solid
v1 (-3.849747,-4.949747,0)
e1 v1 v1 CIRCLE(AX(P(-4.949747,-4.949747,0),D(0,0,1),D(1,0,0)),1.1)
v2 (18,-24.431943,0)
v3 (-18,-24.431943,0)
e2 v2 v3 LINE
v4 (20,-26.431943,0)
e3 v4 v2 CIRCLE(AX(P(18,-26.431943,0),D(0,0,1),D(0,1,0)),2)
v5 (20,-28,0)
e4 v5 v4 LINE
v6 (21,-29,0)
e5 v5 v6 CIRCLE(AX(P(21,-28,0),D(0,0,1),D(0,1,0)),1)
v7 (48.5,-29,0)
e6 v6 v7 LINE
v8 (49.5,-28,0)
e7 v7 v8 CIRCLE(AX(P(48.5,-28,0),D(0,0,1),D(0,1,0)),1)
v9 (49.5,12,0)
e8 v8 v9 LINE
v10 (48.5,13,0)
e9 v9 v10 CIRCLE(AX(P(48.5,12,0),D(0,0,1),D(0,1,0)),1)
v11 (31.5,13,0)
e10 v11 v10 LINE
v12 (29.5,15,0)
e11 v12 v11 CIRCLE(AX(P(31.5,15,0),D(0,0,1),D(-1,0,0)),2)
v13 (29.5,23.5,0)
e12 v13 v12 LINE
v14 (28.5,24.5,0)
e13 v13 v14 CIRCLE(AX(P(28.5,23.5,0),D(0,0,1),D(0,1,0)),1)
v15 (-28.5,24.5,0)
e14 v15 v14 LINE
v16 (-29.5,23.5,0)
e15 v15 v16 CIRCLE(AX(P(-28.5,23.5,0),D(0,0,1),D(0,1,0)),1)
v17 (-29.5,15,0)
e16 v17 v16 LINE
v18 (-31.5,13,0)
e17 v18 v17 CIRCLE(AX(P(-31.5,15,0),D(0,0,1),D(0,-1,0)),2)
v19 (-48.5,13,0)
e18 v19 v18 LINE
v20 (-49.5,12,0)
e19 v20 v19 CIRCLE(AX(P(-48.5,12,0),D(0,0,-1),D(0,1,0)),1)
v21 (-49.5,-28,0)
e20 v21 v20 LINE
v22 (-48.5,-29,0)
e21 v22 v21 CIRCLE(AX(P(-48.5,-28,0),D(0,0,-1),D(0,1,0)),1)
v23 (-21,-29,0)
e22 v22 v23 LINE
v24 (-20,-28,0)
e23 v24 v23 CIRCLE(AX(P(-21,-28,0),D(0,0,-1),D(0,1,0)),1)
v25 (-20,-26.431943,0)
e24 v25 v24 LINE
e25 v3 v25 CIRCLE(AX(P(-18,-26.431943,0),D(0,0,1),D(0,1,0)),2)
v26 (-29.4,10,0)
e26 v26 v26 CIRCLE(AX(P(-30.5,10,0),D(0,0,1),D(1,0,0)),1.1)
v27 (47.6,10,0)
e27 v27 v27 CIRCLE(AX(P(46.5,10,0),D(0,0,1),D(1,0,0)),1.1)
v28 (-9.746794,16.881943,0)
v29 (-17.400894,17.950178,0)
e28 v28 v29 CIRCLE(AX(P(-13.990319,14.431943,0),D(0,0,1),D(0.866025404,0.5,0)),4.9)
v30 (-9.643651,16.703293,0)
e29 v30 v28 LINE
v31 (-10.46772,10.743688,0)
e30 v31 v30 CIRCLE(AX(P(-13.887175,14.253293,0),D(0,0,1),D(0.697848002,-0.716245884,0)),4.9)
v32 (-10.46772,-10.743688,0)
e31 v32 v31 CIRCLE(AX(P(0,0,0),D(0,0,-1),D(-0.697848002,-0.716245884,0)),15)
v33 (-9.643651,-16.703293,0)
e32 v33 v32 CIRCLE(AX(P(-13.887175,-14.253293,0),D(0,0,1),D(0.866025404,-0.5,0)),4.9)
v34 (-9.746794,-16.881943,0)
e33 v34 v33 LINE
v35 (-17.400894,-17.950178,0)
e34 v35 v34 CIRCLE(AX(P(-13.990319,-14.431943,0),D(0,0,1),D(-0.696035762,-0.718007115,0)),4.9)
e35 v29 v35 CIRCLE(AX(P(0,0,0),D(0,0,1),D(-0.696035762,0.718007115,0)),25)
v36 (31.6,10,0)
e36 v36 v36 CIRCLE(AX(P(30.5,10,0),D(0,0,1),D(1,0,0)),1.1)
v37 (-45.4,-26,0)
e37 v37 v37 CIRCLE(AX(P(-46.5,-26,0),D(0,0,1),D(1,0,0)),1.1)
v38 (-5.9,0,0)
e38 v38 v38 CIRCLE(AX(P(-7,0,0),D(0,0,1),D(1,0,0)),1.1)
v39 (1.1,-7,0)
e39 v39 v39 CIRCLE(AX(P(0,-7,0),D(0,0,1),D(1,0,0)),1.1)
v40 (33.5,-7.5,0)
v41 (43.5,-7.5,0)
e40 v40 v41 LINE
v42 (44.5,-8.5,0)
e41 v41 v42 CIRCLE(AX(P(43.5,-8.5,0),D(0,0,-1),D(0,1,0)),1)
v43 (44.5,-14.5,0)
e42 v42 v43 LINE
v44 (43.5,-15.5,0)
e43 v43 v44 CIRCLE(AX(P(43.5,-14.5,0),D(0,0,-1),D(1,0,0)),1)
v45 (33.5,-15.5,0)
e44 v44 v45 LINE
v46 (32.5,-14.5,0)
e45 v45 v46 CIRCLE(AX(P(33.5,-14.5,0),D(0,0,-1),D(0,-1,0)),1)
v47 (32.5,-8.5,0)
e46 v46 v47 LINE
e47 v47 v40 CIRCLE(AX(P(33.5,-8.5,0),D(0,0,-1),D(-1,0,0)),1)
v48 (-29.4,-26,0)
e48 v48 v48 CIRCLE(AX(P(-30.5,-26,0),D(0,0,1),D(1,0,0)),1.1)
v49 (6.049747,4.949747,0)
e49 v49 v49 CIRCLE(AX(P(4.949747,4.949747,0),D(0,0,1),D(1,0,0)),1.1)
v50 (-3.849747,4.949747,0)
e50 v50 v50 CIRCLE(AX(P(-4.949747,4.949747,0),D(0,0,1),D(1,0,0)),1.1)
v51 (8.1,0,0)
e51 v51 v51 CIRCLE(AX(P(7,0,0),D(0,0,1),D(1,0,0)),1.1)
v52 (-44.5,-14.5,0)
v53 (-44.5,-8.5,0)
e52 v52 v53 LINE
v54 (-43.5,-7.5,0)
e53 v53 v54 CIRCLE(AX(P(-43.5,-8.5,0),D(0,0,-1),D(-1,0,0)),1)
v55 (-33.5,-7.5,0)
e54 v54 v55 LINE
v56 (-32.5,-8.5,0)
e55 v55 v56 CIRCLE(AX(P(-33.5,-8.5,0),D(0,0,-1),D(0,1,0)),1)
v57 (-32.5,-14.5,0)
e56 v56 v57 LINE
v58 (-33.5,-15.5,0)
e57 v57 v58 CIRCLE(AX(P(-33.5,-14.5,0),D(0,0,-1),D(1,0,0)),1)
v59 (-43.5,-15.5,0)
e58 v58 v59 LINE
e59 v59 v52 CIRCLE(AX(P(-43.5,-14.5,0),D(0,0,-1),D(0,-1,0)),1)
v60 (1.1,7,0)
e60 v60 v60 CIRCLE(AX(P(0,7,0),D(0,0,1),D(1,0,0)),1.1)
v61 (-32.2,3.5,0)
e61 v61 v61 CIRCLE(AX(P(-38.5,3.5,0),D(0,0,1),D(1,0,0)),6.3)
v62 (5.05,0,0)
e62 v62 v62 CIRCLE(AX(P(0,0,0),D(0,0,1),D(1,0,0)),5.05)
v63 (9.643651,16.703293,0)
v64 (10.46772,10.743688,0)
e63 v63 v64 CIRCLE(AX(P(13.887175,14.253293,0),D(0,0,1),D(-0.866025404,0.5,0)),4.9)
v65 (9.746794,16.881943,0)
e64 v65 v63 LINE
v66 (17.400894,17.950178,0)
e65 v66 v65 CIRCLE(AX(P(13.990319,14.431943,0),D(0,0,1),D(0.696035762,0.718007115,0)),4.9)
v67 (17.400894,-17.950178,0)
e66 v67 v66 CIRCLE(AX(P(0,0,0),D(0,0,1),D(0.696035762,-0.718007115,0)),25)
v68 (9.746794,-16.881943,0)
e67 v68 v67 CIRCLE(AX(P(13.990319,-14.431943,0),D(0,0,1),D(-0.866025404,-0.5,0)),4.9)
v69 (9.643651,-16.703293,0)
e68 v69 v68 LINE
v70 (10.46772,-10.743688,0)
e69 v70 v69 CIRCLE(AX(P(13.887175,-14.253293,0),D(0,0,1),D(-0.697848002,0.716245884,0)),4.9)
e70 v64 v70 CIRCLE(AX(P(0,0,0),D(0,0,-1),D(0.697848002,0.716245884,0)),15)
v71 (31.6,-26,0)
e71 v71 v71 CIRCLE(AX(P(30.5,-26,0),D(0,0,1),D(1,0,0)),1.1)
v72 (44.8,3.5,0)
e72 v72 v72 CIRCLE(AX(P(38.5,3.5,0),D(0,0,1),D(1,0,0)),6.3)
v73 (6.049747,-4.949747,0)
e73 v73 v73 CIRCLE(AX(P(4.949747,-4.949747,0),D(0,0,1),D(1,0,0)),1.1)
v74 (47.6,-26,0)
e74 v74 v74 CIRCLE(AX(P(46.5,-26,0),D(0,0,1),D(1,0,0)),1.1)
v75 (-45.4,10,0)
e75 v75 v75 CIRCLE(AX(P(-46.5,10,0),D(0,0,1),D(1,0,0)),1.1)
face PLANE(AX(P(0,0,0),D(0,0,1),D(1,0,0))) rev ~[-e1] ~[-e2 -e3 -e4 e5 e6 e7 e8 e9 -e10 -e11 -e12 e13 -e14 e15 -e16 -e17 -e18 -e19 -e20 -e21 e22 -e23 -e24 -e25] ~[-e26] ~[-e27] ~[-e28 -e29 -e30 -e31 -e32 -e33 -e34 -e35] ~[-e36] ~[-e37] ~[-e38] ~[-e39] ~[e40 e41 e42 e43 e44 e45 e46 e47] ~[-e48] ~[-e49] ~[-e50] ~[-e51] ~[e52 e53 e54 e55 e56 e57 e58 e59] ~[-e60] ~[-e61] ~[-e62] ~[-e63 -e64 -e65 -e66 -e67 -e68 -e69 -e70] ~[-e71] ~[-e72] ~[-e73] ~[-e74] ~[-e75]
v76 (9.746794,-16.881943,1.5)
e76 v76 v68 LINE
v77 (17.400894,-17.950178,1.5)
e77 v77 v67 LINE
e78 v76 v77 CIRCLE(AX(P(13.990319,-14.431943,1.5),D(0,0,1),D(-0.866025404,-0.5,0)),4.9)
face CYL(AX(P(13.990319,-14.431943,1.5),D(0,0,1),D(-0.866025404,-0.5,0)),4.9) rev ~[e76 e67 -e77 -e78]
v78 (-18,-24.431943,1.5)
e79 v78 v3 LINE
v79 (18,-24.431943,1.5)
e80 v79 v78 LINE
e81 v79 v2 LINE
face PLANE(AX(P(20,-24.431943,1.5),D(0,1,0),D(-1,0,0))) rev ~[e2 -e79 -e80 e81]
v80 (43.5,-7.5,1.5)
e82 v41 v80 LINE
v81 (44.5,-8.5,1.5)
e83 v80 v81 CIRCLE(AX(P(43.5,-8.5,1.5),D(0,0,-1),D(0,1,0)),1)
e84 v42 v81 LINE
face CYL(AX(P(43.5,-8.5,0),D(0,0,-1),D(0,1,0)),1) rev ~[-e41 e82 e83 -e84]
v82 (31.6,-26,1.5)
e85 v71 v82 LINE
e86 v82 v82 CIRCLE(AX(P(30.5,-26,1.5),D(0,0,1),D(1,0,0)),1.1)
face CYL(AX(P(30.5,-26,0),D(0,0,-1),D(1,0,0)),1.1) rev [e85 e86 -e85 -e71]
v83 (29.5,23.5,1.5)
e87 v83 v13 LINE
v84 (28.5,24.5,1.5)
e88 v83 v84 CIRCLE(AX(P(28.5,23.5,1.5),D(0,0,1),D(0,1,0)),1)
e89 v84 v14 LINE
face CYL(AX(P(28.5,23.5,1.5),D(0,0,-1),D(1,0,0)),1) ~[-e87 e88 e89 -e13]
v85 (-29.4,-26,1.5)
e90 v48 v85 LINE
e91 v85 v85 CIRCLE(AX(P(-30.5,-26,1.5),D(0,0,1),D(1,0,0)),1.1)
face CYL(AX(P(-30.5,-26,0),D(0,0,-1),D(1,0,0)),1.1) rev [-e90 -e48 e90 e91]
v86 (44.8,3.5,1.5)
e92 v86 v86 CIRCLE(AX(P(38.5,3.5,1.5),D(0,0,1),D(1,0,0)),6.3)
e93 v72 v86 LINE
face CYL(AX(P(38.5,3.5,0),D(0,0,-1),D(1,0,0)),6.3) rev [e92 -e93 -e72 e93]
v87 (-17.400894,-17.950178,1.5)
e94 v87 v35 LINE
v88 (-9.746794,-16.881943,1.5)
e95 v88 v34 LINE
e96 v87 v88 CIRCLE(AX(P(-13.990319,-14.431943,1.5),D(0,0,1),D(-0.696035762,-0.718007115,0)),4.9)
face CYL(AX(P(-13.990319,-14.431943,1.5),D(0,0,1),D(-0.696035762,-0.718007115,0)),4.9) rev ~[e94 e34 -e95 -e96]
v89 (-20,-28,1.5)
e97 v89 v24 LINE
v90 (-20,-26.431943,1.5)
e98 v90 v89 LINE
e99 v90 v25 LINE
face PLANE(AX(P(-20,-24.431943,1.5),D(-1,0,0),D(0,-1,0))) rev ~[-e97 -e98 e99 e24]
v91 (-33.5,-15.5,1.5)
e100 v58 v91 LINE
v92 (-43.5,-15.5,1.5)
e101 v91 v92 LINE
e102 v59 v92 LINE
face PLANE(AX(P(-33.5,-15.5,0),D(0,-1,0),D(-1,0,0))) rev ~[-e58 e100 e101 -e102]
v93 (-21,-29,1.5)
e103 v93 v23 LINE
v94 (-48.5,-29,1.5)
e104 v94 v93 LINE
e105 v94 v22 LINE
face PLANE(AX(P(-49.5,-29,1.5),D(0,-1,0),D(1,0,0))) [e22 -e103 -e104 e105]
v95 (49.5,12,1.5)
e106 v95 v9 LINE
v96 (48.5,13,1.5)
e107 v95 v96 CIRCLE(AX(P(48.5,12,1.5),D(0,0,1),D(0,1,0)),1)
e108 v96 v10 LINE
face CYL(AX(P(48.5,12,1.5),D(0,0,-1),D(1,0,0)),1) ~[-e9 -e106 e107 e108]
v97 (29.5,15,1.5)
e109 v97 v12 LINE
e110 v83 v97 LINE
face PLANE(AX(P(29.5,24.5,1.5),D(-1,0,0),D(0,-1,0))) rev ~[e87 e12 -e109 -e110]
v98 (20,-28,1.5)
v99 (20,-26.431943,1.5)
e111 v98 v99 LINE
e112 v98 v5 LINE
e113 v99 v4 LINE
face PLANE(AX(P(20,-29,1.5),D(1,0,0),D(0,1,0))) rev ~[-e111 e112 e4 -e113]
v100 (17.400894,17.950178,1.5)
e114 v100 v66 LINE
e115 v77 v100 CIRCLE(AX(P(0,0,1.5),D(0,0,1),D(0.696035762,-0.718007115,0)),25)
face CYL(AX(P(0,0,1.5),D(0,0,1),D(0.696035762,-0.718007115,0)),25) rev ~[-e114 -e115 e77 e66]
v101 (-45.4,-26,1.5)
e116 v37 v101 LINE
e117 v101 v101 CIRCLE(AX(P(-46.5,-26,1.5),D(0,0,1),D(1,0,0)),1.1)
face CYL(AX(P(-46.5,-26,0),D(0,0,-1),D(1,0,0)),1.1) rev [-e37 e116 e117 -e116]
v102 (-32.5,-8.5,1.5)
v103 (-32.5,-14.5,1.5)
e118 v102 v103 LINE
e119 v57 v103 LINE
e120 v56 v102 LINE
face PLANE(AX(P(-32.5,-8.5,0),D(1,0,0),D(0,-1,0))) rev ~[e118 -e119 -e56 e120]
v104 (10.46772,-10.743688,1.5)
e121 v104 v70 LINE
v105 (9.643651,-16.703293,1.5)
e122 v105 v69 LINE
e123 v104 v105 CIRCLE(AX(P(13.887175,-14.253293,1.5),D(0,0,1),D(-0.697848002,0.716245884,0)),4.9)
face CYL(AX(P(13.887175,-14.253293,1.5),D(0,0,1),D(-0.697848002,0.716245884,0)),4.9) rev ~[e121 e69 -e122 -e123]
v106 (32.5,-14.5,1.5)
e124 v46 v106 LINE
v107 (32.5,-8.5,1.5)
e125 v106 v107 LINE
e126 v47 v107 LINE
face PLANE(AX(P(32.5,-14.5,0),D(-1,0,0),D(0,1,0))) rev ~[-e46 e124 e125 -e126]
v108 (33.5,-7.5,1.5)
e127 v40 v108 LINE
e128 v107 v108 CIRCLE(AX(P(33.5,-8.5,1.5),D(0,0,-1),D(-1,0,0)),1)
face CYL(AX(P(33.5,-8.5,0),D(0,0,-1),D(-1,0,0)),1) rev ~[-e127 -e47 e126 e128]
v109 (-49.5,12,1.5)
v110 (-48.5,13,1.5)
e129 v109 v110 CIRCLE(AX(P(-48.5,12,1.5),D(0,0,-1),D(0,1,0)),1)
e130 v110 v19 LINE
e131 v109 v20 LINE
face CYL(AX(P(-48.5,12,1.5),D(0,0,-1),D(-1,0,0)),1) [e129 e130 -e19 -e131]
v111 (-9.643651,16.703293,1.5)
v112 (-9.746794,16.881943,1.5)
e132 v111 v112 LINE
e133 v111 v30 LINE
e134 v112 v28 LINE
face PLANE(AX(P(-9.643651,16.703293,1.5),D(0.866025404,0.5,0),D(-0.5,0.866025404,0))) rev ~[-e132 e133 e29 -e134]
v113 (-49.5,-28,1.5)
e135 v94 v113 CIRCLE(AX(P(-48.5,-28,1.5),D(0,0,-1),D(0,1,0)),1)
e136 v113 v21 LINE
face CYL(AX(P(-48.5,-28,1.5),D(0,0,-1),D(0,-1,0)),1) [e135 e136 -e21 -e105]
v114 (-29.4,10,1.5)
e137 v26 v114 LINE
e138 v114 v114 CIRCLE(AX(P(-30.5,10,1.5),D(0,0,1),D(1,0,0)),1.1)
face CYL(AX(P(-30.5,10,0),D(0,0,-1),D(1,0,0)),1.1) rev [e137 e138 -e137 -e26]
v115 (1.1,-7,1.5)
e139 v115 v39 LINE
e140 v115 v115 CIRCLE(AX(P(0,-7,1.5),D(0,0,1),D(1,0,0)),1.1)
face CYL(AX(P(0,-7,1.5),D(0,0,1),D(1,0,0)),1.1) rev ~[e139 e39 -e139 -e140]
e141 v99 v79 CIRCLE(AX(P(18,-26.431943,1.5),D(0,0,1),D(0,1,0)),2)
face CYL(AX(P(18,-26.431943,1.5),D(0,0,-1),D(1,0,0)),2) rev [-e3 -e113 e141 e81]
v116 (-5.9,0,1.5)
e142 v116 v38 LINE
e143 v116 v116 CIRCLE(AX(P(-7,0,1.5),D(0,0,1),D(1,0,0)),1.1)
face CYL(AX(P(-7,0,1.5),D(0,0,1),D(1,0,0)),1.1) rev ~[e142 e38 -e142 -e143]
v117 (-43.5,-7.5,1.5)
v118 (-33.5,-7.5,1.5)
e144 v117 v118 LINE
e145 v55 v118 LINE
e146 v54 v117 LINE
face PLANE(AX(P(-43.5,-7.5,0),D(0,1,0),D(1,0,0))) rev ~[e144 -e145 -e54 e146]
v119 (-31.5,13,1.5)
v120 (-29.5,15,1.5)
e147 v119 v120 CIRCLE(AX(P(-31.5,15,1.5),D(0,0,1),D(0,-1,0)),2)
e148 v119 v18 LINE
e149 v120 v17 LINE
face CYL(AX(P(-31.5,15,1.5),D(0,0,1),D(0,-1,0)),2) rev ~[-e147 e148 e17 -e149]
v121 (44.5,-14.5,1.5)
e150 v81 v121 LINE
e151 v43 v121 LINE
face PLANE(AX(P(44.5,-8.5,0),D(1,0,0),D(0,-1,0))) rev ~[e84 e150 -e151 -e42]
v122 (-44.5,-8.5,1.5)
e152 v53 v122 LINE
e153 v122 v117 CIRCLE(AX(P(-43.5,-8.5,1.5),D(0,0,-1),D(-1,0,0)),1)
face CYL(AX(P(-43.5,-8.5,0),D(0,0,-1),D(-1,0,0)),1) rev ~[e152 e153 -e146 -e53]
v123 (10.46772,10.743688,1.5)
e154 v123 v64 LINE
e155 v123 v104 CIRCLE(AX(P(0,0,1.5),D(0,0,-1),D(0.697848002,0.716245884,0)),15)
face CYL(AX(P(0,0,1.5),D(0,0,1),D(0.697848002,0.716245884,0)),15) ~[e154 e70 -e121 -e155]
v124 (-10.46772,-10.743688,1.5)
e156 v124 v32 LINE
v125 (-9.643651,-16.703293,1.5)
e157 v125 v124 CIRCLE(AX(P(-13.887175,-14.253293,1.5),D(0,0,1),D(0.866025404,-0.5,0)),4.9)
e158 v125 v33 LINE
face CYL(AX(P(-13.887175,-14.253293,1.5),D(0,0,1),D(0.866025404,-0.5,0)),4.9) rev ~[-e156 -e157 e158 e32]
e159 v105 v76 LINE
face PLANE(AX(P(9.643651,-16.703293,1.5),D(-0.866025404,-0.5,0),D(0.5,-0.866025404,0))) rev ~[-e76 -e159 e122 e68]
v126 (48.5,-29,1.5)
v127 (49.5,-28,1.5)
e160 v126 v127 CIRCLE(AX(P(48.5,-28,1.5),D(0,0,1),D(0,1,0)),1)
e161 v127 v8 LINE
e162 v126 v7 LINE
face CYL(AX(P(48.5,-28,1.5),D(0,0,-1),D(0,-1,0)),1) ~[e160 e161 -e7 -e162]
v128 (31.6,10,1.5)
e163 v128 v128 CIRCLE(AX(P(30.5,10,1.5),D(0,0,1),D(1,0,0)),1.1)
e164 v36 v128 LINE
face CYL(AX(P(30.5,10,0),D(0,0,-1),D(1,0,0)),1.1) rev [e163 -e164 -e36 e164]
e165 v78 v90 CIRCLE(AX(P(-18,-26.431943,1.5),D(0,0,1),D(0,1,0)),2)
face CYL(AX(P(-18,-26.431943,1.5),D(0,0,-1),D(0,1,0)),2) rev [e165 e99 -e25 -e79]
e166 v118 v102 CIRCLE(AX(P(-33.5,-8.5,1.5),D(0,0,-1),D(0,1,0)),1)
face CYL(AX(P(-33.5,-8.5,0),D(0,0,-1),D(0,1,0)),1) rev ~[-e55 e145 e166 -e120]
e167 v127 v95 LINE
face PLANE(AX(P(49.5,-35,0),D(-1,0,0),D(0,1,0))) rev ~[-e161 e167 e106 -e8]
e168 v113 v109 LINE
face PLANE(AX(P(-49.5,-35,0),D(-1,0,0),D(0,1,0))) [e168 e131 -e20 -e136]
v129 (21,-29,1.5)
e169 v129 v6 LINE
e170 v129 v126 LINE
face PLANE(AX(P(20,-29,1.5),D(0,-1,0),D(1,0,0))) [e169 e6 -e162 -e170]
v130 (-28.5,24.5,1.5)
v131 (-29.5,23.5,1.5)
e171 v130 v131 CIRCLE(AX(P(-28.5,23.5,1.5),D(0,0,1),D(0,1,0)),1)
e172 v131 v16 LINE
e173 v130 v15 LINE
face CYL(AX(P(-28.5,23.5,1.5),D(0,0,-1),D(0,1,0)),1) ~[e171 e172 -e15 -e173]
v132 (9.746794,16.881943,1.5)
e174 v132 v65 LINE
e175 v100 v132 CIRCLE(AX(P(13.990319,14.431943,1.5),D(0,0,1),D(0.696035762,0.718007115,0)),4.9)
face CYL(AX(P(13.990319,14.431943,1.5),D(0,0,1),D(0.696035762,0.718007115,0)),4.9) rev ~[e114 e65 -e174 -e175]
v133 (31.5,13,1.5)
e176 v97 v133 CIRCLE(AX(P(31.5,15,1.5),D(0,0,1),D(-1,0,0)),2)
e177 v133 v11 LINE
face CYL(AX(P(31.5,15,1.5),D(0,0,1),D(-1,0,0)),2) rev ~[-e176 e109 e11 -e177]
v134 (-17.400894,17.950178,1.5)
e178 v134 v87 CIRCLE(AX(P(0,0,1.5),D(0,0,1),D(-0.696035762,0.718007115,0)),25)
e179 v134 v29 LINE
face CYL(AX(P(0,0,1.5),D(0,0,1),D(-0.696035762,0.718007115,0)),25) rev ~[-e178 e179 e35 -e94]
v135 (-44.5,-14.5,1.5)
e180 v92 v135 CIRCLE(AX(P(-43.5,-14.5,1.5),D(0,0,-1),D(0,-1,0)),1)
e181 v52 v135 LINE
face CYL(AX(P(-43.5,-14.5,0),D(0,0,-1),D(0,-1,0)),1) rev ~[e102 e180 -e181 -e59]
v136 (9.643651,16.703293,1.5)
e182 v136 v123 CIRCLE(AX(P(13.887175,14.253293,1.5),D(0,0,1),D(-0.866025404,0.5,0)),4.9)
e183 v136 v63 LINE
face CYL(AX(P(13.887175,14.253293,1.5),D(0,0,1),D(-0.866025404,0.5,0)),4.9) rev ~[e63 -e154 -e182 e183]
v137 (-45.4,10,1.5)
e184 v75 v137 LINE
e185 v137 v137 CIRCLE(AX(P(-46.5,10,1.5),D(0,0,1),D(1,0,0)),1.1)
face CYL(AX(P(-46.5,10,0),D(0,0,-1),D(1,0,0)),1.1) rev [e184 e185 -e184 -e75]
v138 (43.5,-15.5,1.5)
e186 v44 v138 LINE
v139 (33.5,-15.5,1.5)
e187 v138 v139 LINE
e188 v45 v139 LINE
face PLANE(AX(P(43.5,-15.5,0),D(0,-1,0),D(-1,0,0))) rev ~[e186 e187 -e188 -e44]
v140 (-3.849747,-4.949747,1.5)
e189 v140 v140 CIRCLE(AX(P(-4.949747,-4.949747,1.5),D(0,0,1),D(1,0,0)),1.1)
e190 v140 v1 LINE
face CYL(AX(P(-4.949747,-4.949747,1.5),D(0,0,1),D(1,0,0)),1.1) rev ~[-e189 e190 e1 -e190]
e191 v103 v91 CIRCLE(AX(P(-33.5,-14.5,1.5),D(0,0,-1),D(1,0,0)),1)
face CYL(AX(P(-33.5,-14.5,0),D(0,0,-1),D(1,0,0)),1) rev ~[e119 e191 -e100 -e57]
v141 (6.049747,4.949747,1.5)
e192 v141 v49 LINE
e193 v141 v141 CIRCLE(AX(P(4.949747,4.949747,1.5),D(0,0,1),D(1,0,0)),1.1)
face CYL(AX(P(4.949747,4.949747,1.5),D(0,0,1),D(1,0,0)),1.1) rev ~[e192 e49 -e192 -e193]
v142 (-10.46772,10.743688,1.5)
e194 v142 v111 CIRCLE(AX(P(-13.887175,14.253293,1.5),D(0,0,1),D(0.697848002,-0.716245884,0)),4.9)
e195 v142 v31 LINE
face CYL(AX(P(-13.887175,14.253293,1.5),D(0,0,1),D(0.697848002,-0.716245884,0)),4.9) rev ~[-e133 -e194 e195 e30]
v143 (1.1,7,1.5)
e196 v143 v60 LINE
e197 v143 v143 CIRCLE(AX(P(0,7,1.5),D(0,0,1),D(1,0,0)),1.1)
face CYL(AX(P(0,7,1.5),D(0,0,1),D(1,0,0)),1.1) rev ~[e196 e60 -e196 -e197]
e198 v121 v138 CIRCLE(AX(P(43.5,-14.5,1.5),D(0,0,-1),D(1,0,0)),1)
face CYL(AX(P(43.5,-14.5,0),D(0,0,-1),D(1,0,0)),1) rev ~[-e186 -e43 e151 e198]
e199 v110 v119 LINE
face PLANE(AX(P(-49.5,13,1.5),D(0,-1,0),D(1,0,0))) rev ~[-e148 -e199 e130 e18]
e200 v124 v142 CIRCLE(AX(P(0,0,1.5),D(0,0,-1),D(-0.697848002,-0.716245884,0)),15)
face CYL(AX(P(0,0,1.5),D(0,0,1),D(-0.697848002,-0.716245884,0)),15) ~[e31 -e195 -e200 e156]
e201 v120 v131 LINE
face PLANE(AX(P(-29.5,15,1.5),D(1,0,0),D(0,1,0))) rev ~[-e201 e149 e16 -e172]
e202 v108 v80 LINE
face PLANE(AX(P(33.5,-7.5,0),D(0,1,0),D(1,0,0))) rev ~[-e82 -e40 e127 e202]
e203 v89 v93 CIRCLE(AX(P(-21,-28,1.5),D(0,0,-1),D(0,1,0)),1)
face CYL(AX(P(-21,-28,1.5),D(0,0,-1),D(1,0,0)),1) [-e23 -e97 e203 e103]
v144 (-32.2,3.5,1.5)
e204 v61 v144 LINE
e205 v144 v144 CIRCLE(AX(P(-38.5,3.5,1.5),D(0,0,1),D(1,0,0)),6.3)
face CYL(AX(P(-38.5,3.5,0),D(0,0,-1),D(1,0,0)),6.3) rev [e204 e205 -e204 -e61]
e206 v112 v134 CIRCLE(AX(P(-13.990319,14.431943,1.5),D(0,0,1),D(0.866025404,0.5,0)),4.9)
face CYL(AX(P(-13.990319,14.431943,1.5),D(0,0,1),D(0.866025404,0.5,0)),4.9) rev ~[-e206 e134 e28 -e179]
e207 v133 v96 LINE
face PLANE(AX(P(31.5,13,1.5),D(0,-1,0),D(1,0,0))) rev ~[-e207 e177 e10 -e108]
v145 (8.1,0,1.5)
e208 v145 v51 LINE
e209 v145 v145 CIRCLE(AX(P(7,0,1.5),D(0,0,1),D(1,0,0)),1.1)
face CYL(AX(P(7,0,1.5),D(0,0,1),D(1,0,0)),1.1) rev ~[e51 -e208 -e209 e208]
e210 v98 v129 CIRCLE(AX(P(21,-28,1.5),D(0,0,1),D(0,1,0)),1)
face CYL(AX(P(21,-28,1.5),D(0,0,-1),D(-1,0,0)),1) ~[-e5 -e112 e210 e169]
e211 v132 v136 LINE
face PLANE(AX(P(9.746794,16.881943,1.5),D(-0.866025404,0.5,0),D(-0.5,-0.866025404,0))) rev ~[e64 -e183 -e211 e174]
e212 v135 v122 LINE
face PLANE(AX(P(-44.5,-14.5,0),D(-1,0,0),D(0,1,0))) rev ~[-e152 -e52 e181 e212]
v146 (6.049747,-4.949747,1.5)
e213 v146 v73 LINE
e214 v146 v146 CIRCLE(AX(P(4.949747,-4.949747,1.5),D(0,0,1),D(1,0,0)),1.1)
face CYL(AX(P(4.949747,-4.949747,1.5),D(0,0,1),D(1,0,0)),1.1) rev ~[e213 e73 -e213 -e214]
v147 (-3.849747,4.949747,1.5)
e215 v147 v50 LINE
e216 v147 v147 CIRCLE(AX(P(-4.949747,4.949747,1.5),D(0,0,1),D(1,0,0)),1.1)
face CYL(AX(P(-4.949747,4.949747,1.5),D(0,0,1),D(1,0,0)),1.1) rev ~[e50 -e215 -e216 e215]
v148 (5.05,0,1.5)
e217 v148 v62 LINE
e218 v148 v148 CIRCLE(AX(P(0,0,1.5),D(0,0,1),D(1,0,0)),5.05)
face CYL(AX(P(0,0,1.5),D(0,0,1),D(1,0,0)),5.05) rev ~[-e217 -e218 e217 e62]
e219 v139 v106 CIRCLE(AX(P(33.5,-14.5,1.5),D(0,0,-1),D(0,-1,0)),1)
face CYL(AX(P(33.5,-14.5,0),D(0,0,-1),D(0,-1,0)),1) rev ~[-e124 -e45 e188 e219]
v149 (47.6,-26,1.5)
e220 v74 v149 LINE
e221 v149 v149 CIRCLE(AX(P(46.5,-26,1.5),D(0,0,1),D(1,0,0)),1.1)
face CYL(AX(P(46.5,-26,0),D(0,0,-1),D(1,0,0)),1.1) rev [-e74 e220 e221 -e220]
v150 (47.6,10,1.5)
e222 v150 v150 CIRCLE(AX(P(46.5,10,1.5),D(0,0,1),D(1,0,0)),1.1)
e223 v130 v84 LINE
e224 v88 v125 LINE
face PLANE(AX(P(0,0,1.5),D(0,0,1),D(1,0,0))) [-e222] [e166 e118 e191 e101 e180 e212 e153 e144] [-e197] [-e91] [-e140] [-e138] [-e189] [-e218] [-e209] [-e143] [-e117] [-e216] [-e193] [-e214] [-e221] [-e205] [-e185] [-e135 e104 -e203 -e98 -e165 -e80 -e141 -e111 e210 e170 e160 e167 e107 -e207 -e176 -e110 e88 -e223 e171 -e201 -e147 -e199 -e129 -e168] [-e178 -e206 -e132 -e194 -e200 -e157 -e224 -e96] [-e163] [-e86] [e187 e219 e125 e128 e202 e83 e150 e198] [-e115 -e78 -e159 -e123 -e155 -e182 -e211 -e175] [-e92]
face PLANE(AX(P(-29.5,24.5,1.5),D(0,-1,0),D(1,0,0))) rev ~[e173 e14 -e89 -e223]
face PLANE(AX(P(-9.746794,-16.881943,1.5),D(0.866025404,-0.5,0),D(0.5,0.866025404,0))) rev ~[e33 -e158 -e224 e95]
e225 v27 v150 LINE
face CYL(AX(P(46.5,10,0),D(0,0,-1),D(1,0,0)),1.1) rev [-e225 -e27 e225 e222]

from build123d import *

# Parameters (mm, degrees)
F0_W     = 99
F0_H     = 70
F0_R     = 1.1
F0_R_2   = 6.3
F1_DEPTH = 1.5
F2_R     = 5.05
F2_R_2   = 1.1
F2_W     = 59
F2_H     = 10.5
F2_W_2   = 29.5
F2_H_2   = 6
F3_DEPTH = 1.5
F4_R     = 2
F5_R     = 1


with BuildPart() as f1:
    # F0 (on Top) → F1 (new body)
    with BuildSketch(Plane.XY):
        Rectangle(F0_W, F0_H)
        with Locations((-46.5, -26)):
            Circle(F0_R, mode=Mode.SUBTRACT)
        with Locations((-30.5, -26)):
            Circle(F0_R, mode=Mode.SUBTRACT)
        with BuildLine():
            ThreePointArc((-32.5, -14.5), (-32.7928932188, -15.2071067812), (-33.5, -15.5))
            Line((-33.5, -15.5), (-43.5, -15.5))
            ThreePointArc((-43.5, -15.5), (-44.2071067812, -15.2071067812), (-44.5, -14.5))
            Line((-44.5, -14.5), (-44.5, -8.5))
            ThreePointArc((-44.5, -8.5), (-44.2071067812, -7.7928932188), (-43.5, -7.5))
            Line((-43.5, -7.5), (-33.5, -7.5))
            ThreePointArc((-33.5, -7.5), (-32.7928932188, -7.7928932188), (-32.5, -8.5))
            Line((-32.5, -8.5), (-32.5, -14.5))
        make_face(mode=Mode.SUBTRACT)
        with Locations((30.5, -26)):
            Circle(F0_R, mode=Mode.SUBTRACT)
        with Locations((46.5, -26)):
            Circle(F0_R, mode=Mode.SUBTRACT)
        with BuildLine():
            Line((33.5, -7.5), (43.5, -7.5))
            ThreePointArc((43.5, -7.5), (44.2071067812, -7.7928932188), (44.5, -8.5))
            Line((44.5, -8.5), (44.5, -14.5))
            ThreePointArc((44.5, -14.5), (44.2071067812, -15.2071067812), (43.5, -15.5))
            Line((43.5, -15.5), (33.5, -15.5))
            ThreePointArc((33.5, -15.5), (32.7928932188, -15.2071067812), (32.5, -14.5))
            Line((32.5, -14.5), (32.5, -8.5))
            ThreePointArc((32.5, -8.5), (32.7928932188, -7.7928932188), (33.5, -7.5))
        make_face(mode=Mode.SUBTRACT)
        with Locations((-38.5, 3.5)):
            Circle(F0_R_2, mode=Mode.SUBTRACT)
        with Locations((-46.5, 10)):
            Circle(F0_R, mode=Mode.SUBTRACT)
        with Locations((-30.5, 10)):
            Circle(F0_R, mode=Mode.SUBTRACT)
        with Locations((38.5, 3.5)):
            Circle(F0_R_2, mode=Mode.SUBTRACT)
        with Locations((30.5, 10)):
            Circle(F0_R, mode=Mode.SUBTRACT)
        with Locations((46.5, 10)):
            Circle(F0_R, mode=Mode.SUBTRACT)
    extrude(amount=F1_DEPTH)

    # F2 (on face) → F3 (cut, through all)
    with BuildSketch(Plane.XY.offset(1.5)):
        Circle(F2_R)
        with Locations((0, 7)):
            Circle(F2_R_2)
        with Locations((-4.9497474683, 4.9497474683)):
            Circle(F2_R_2)
        with Locations((-7, 0)):
            Circle(F2_R_2)
        with Locations((-4.9497474683, -4.9497474683)):
            Circle(F2_R_2)
        with Locations((0, -7)):
            Circle(F2_R_2)
        with Locations((4.9497474683, -4.9497474683)):
            Circle(F2_R_2)
        with Locations((7, 0)):
            Circle(F2_R_2)
        with Locations((4.9497474683, 4.9497474683)):
            Circle(F2_R_2)
        with BuildLine():
            ThreePointArc((-9.7467943448, 16.8819430161), (-13.3130208521, 19.2849078273), (-17.4008940589, 17.9501778808))
            ThreePointArc((-17.4008940589, 17.9501778808), (-25, 0), (-17.4008940589, -17.9501778808))
            ThreePointArc((-17.4008940589, -17.9501778808), (-13.3130208521, -19.2849078273), (-9.7467943448, -16.8819430161))
            Line((-9.7467943448, -16.8819430161), (-9.643650761, -16.7032930885))
            ThreePointArc((-9.643650761, -16.7032930885), (-9.0333585083, -13.5821275803), (-10.4677200298, -10.7436882577))
            ThreePointArc((-10.4677200298, -10.7436882577), (-15, 0), (-10.4677200298, 10.7436882577))
            ThreePointArc((-10.4677200298, 10.7436882577), (-9.0333585083, 13.5821275803), (-9.643650761, 16.7032930885))
            Line((-9.643650761, 16.7032930885), (-9.7467943448, 16.8819430161))
        make_face()
        with BuildLine():
            ThreePointArc((17.4008940589, 17.9501778808), (13.3130208521, 19.2849078273), (9.7467943448, 16.8819430161))
            Line((9.7467943448, 16.8819430161), (9.643650761, 16.7032930885))
            ThreePointArc((9.643650761, 16.7032930885), (9.0333585083, 13.5821275803), (10.4677200298, 10.7436882577))
            ThreePointArc((10.4677200298, 10.7436882577), (15, 0), (10.4677200298, -10.7436882577))
            ThreePointArc((10.4677200298, -10.7436882577), (9.0333585083, -13.5821275803), (9.643650761, -16.7032930885))
            Line((9.643650761, -16.7032930885), (9.7467943448, -16.8819430161))
            ThreePointArc((9.7467943448, -16.8819430161), (13.3130208521, -19.2849078273), (17.4008940589, -17.9501778808))
            ThreePointArc((17.4008940589, -17.9501778808), (25, 0), (17.4008940589, 17.9501778808))
        make_face()
        with BuildLine():
            Line((-29.5, 35), (-49.5, 35))
            Line((-49.5, 35), (-49.5, 13))
            Line((-49.5, 13), (-31.5, 13))
            ThreePointArc((-31.5, 13), (-30.0857864376, 13.5857864376), (-29.5, 15))
            Line((-29.5, 15), (-29.5, 24.5))
            Line((-29.5, 24.5), (-29.5, 35))
        make_face()
        with Locations((0, 29.75)):
            Rectangle(F2_W, F2_H)
        with BuildLine():
            Line((49.5, 35), (29.5, 35))
            Line((29.5, 35), (29.5, 24.5))
            Line((29.5, 24.5), (29.5, 15))
            ThreePointArc((29.5, 15), (30.0857864376, 13.5857864376), (31.5, 13))
            Line((31.5, 13), (49.5, 13))
            Line((49.5, 13), (49.5, 35))
        make_face()
        Polygon((-20, -35), (20, -35), (20, -29), (20, -24.4319430161), (-20, -24.4319430161), (-20, -29), align=None)
        with Locations((34.75, -32)):
            Rectangle(F2_W_2, F2_H_2)
        with Locations((-34.75, -32)):
            Rectangle(F2_W_2, F2_H_2)
    extrude(amount=-F3_DEPTH, mode=Mode.SUBTRACT)

    # F4
    f4_edges = [f1.edges().sort_by_distance(p)[0] for p in [
        (-20, -24.431943, 0.75),
        (20, -24.431943, 0.75),
    ]]
    fillet(f4_edges, radius=F4_R)

    # F5
    f5_edges = [f1.edges().sort_by_distance(p)[0] for p in [
        (-49.5, -29, 0.75),
        (20, -29, 0.75),
        (-20, -29, 0.75),
        (49.5, -29, 0.75),
        (49.5, 13, 0.75),
        (29.5, 24.5, 0.75),
        (-49.5, 13, 0.75),
        (-29.5, 24.5, 0.75),
    ]]
    fillet(f5_edges, radius=F5_R)


solid = f1.part
